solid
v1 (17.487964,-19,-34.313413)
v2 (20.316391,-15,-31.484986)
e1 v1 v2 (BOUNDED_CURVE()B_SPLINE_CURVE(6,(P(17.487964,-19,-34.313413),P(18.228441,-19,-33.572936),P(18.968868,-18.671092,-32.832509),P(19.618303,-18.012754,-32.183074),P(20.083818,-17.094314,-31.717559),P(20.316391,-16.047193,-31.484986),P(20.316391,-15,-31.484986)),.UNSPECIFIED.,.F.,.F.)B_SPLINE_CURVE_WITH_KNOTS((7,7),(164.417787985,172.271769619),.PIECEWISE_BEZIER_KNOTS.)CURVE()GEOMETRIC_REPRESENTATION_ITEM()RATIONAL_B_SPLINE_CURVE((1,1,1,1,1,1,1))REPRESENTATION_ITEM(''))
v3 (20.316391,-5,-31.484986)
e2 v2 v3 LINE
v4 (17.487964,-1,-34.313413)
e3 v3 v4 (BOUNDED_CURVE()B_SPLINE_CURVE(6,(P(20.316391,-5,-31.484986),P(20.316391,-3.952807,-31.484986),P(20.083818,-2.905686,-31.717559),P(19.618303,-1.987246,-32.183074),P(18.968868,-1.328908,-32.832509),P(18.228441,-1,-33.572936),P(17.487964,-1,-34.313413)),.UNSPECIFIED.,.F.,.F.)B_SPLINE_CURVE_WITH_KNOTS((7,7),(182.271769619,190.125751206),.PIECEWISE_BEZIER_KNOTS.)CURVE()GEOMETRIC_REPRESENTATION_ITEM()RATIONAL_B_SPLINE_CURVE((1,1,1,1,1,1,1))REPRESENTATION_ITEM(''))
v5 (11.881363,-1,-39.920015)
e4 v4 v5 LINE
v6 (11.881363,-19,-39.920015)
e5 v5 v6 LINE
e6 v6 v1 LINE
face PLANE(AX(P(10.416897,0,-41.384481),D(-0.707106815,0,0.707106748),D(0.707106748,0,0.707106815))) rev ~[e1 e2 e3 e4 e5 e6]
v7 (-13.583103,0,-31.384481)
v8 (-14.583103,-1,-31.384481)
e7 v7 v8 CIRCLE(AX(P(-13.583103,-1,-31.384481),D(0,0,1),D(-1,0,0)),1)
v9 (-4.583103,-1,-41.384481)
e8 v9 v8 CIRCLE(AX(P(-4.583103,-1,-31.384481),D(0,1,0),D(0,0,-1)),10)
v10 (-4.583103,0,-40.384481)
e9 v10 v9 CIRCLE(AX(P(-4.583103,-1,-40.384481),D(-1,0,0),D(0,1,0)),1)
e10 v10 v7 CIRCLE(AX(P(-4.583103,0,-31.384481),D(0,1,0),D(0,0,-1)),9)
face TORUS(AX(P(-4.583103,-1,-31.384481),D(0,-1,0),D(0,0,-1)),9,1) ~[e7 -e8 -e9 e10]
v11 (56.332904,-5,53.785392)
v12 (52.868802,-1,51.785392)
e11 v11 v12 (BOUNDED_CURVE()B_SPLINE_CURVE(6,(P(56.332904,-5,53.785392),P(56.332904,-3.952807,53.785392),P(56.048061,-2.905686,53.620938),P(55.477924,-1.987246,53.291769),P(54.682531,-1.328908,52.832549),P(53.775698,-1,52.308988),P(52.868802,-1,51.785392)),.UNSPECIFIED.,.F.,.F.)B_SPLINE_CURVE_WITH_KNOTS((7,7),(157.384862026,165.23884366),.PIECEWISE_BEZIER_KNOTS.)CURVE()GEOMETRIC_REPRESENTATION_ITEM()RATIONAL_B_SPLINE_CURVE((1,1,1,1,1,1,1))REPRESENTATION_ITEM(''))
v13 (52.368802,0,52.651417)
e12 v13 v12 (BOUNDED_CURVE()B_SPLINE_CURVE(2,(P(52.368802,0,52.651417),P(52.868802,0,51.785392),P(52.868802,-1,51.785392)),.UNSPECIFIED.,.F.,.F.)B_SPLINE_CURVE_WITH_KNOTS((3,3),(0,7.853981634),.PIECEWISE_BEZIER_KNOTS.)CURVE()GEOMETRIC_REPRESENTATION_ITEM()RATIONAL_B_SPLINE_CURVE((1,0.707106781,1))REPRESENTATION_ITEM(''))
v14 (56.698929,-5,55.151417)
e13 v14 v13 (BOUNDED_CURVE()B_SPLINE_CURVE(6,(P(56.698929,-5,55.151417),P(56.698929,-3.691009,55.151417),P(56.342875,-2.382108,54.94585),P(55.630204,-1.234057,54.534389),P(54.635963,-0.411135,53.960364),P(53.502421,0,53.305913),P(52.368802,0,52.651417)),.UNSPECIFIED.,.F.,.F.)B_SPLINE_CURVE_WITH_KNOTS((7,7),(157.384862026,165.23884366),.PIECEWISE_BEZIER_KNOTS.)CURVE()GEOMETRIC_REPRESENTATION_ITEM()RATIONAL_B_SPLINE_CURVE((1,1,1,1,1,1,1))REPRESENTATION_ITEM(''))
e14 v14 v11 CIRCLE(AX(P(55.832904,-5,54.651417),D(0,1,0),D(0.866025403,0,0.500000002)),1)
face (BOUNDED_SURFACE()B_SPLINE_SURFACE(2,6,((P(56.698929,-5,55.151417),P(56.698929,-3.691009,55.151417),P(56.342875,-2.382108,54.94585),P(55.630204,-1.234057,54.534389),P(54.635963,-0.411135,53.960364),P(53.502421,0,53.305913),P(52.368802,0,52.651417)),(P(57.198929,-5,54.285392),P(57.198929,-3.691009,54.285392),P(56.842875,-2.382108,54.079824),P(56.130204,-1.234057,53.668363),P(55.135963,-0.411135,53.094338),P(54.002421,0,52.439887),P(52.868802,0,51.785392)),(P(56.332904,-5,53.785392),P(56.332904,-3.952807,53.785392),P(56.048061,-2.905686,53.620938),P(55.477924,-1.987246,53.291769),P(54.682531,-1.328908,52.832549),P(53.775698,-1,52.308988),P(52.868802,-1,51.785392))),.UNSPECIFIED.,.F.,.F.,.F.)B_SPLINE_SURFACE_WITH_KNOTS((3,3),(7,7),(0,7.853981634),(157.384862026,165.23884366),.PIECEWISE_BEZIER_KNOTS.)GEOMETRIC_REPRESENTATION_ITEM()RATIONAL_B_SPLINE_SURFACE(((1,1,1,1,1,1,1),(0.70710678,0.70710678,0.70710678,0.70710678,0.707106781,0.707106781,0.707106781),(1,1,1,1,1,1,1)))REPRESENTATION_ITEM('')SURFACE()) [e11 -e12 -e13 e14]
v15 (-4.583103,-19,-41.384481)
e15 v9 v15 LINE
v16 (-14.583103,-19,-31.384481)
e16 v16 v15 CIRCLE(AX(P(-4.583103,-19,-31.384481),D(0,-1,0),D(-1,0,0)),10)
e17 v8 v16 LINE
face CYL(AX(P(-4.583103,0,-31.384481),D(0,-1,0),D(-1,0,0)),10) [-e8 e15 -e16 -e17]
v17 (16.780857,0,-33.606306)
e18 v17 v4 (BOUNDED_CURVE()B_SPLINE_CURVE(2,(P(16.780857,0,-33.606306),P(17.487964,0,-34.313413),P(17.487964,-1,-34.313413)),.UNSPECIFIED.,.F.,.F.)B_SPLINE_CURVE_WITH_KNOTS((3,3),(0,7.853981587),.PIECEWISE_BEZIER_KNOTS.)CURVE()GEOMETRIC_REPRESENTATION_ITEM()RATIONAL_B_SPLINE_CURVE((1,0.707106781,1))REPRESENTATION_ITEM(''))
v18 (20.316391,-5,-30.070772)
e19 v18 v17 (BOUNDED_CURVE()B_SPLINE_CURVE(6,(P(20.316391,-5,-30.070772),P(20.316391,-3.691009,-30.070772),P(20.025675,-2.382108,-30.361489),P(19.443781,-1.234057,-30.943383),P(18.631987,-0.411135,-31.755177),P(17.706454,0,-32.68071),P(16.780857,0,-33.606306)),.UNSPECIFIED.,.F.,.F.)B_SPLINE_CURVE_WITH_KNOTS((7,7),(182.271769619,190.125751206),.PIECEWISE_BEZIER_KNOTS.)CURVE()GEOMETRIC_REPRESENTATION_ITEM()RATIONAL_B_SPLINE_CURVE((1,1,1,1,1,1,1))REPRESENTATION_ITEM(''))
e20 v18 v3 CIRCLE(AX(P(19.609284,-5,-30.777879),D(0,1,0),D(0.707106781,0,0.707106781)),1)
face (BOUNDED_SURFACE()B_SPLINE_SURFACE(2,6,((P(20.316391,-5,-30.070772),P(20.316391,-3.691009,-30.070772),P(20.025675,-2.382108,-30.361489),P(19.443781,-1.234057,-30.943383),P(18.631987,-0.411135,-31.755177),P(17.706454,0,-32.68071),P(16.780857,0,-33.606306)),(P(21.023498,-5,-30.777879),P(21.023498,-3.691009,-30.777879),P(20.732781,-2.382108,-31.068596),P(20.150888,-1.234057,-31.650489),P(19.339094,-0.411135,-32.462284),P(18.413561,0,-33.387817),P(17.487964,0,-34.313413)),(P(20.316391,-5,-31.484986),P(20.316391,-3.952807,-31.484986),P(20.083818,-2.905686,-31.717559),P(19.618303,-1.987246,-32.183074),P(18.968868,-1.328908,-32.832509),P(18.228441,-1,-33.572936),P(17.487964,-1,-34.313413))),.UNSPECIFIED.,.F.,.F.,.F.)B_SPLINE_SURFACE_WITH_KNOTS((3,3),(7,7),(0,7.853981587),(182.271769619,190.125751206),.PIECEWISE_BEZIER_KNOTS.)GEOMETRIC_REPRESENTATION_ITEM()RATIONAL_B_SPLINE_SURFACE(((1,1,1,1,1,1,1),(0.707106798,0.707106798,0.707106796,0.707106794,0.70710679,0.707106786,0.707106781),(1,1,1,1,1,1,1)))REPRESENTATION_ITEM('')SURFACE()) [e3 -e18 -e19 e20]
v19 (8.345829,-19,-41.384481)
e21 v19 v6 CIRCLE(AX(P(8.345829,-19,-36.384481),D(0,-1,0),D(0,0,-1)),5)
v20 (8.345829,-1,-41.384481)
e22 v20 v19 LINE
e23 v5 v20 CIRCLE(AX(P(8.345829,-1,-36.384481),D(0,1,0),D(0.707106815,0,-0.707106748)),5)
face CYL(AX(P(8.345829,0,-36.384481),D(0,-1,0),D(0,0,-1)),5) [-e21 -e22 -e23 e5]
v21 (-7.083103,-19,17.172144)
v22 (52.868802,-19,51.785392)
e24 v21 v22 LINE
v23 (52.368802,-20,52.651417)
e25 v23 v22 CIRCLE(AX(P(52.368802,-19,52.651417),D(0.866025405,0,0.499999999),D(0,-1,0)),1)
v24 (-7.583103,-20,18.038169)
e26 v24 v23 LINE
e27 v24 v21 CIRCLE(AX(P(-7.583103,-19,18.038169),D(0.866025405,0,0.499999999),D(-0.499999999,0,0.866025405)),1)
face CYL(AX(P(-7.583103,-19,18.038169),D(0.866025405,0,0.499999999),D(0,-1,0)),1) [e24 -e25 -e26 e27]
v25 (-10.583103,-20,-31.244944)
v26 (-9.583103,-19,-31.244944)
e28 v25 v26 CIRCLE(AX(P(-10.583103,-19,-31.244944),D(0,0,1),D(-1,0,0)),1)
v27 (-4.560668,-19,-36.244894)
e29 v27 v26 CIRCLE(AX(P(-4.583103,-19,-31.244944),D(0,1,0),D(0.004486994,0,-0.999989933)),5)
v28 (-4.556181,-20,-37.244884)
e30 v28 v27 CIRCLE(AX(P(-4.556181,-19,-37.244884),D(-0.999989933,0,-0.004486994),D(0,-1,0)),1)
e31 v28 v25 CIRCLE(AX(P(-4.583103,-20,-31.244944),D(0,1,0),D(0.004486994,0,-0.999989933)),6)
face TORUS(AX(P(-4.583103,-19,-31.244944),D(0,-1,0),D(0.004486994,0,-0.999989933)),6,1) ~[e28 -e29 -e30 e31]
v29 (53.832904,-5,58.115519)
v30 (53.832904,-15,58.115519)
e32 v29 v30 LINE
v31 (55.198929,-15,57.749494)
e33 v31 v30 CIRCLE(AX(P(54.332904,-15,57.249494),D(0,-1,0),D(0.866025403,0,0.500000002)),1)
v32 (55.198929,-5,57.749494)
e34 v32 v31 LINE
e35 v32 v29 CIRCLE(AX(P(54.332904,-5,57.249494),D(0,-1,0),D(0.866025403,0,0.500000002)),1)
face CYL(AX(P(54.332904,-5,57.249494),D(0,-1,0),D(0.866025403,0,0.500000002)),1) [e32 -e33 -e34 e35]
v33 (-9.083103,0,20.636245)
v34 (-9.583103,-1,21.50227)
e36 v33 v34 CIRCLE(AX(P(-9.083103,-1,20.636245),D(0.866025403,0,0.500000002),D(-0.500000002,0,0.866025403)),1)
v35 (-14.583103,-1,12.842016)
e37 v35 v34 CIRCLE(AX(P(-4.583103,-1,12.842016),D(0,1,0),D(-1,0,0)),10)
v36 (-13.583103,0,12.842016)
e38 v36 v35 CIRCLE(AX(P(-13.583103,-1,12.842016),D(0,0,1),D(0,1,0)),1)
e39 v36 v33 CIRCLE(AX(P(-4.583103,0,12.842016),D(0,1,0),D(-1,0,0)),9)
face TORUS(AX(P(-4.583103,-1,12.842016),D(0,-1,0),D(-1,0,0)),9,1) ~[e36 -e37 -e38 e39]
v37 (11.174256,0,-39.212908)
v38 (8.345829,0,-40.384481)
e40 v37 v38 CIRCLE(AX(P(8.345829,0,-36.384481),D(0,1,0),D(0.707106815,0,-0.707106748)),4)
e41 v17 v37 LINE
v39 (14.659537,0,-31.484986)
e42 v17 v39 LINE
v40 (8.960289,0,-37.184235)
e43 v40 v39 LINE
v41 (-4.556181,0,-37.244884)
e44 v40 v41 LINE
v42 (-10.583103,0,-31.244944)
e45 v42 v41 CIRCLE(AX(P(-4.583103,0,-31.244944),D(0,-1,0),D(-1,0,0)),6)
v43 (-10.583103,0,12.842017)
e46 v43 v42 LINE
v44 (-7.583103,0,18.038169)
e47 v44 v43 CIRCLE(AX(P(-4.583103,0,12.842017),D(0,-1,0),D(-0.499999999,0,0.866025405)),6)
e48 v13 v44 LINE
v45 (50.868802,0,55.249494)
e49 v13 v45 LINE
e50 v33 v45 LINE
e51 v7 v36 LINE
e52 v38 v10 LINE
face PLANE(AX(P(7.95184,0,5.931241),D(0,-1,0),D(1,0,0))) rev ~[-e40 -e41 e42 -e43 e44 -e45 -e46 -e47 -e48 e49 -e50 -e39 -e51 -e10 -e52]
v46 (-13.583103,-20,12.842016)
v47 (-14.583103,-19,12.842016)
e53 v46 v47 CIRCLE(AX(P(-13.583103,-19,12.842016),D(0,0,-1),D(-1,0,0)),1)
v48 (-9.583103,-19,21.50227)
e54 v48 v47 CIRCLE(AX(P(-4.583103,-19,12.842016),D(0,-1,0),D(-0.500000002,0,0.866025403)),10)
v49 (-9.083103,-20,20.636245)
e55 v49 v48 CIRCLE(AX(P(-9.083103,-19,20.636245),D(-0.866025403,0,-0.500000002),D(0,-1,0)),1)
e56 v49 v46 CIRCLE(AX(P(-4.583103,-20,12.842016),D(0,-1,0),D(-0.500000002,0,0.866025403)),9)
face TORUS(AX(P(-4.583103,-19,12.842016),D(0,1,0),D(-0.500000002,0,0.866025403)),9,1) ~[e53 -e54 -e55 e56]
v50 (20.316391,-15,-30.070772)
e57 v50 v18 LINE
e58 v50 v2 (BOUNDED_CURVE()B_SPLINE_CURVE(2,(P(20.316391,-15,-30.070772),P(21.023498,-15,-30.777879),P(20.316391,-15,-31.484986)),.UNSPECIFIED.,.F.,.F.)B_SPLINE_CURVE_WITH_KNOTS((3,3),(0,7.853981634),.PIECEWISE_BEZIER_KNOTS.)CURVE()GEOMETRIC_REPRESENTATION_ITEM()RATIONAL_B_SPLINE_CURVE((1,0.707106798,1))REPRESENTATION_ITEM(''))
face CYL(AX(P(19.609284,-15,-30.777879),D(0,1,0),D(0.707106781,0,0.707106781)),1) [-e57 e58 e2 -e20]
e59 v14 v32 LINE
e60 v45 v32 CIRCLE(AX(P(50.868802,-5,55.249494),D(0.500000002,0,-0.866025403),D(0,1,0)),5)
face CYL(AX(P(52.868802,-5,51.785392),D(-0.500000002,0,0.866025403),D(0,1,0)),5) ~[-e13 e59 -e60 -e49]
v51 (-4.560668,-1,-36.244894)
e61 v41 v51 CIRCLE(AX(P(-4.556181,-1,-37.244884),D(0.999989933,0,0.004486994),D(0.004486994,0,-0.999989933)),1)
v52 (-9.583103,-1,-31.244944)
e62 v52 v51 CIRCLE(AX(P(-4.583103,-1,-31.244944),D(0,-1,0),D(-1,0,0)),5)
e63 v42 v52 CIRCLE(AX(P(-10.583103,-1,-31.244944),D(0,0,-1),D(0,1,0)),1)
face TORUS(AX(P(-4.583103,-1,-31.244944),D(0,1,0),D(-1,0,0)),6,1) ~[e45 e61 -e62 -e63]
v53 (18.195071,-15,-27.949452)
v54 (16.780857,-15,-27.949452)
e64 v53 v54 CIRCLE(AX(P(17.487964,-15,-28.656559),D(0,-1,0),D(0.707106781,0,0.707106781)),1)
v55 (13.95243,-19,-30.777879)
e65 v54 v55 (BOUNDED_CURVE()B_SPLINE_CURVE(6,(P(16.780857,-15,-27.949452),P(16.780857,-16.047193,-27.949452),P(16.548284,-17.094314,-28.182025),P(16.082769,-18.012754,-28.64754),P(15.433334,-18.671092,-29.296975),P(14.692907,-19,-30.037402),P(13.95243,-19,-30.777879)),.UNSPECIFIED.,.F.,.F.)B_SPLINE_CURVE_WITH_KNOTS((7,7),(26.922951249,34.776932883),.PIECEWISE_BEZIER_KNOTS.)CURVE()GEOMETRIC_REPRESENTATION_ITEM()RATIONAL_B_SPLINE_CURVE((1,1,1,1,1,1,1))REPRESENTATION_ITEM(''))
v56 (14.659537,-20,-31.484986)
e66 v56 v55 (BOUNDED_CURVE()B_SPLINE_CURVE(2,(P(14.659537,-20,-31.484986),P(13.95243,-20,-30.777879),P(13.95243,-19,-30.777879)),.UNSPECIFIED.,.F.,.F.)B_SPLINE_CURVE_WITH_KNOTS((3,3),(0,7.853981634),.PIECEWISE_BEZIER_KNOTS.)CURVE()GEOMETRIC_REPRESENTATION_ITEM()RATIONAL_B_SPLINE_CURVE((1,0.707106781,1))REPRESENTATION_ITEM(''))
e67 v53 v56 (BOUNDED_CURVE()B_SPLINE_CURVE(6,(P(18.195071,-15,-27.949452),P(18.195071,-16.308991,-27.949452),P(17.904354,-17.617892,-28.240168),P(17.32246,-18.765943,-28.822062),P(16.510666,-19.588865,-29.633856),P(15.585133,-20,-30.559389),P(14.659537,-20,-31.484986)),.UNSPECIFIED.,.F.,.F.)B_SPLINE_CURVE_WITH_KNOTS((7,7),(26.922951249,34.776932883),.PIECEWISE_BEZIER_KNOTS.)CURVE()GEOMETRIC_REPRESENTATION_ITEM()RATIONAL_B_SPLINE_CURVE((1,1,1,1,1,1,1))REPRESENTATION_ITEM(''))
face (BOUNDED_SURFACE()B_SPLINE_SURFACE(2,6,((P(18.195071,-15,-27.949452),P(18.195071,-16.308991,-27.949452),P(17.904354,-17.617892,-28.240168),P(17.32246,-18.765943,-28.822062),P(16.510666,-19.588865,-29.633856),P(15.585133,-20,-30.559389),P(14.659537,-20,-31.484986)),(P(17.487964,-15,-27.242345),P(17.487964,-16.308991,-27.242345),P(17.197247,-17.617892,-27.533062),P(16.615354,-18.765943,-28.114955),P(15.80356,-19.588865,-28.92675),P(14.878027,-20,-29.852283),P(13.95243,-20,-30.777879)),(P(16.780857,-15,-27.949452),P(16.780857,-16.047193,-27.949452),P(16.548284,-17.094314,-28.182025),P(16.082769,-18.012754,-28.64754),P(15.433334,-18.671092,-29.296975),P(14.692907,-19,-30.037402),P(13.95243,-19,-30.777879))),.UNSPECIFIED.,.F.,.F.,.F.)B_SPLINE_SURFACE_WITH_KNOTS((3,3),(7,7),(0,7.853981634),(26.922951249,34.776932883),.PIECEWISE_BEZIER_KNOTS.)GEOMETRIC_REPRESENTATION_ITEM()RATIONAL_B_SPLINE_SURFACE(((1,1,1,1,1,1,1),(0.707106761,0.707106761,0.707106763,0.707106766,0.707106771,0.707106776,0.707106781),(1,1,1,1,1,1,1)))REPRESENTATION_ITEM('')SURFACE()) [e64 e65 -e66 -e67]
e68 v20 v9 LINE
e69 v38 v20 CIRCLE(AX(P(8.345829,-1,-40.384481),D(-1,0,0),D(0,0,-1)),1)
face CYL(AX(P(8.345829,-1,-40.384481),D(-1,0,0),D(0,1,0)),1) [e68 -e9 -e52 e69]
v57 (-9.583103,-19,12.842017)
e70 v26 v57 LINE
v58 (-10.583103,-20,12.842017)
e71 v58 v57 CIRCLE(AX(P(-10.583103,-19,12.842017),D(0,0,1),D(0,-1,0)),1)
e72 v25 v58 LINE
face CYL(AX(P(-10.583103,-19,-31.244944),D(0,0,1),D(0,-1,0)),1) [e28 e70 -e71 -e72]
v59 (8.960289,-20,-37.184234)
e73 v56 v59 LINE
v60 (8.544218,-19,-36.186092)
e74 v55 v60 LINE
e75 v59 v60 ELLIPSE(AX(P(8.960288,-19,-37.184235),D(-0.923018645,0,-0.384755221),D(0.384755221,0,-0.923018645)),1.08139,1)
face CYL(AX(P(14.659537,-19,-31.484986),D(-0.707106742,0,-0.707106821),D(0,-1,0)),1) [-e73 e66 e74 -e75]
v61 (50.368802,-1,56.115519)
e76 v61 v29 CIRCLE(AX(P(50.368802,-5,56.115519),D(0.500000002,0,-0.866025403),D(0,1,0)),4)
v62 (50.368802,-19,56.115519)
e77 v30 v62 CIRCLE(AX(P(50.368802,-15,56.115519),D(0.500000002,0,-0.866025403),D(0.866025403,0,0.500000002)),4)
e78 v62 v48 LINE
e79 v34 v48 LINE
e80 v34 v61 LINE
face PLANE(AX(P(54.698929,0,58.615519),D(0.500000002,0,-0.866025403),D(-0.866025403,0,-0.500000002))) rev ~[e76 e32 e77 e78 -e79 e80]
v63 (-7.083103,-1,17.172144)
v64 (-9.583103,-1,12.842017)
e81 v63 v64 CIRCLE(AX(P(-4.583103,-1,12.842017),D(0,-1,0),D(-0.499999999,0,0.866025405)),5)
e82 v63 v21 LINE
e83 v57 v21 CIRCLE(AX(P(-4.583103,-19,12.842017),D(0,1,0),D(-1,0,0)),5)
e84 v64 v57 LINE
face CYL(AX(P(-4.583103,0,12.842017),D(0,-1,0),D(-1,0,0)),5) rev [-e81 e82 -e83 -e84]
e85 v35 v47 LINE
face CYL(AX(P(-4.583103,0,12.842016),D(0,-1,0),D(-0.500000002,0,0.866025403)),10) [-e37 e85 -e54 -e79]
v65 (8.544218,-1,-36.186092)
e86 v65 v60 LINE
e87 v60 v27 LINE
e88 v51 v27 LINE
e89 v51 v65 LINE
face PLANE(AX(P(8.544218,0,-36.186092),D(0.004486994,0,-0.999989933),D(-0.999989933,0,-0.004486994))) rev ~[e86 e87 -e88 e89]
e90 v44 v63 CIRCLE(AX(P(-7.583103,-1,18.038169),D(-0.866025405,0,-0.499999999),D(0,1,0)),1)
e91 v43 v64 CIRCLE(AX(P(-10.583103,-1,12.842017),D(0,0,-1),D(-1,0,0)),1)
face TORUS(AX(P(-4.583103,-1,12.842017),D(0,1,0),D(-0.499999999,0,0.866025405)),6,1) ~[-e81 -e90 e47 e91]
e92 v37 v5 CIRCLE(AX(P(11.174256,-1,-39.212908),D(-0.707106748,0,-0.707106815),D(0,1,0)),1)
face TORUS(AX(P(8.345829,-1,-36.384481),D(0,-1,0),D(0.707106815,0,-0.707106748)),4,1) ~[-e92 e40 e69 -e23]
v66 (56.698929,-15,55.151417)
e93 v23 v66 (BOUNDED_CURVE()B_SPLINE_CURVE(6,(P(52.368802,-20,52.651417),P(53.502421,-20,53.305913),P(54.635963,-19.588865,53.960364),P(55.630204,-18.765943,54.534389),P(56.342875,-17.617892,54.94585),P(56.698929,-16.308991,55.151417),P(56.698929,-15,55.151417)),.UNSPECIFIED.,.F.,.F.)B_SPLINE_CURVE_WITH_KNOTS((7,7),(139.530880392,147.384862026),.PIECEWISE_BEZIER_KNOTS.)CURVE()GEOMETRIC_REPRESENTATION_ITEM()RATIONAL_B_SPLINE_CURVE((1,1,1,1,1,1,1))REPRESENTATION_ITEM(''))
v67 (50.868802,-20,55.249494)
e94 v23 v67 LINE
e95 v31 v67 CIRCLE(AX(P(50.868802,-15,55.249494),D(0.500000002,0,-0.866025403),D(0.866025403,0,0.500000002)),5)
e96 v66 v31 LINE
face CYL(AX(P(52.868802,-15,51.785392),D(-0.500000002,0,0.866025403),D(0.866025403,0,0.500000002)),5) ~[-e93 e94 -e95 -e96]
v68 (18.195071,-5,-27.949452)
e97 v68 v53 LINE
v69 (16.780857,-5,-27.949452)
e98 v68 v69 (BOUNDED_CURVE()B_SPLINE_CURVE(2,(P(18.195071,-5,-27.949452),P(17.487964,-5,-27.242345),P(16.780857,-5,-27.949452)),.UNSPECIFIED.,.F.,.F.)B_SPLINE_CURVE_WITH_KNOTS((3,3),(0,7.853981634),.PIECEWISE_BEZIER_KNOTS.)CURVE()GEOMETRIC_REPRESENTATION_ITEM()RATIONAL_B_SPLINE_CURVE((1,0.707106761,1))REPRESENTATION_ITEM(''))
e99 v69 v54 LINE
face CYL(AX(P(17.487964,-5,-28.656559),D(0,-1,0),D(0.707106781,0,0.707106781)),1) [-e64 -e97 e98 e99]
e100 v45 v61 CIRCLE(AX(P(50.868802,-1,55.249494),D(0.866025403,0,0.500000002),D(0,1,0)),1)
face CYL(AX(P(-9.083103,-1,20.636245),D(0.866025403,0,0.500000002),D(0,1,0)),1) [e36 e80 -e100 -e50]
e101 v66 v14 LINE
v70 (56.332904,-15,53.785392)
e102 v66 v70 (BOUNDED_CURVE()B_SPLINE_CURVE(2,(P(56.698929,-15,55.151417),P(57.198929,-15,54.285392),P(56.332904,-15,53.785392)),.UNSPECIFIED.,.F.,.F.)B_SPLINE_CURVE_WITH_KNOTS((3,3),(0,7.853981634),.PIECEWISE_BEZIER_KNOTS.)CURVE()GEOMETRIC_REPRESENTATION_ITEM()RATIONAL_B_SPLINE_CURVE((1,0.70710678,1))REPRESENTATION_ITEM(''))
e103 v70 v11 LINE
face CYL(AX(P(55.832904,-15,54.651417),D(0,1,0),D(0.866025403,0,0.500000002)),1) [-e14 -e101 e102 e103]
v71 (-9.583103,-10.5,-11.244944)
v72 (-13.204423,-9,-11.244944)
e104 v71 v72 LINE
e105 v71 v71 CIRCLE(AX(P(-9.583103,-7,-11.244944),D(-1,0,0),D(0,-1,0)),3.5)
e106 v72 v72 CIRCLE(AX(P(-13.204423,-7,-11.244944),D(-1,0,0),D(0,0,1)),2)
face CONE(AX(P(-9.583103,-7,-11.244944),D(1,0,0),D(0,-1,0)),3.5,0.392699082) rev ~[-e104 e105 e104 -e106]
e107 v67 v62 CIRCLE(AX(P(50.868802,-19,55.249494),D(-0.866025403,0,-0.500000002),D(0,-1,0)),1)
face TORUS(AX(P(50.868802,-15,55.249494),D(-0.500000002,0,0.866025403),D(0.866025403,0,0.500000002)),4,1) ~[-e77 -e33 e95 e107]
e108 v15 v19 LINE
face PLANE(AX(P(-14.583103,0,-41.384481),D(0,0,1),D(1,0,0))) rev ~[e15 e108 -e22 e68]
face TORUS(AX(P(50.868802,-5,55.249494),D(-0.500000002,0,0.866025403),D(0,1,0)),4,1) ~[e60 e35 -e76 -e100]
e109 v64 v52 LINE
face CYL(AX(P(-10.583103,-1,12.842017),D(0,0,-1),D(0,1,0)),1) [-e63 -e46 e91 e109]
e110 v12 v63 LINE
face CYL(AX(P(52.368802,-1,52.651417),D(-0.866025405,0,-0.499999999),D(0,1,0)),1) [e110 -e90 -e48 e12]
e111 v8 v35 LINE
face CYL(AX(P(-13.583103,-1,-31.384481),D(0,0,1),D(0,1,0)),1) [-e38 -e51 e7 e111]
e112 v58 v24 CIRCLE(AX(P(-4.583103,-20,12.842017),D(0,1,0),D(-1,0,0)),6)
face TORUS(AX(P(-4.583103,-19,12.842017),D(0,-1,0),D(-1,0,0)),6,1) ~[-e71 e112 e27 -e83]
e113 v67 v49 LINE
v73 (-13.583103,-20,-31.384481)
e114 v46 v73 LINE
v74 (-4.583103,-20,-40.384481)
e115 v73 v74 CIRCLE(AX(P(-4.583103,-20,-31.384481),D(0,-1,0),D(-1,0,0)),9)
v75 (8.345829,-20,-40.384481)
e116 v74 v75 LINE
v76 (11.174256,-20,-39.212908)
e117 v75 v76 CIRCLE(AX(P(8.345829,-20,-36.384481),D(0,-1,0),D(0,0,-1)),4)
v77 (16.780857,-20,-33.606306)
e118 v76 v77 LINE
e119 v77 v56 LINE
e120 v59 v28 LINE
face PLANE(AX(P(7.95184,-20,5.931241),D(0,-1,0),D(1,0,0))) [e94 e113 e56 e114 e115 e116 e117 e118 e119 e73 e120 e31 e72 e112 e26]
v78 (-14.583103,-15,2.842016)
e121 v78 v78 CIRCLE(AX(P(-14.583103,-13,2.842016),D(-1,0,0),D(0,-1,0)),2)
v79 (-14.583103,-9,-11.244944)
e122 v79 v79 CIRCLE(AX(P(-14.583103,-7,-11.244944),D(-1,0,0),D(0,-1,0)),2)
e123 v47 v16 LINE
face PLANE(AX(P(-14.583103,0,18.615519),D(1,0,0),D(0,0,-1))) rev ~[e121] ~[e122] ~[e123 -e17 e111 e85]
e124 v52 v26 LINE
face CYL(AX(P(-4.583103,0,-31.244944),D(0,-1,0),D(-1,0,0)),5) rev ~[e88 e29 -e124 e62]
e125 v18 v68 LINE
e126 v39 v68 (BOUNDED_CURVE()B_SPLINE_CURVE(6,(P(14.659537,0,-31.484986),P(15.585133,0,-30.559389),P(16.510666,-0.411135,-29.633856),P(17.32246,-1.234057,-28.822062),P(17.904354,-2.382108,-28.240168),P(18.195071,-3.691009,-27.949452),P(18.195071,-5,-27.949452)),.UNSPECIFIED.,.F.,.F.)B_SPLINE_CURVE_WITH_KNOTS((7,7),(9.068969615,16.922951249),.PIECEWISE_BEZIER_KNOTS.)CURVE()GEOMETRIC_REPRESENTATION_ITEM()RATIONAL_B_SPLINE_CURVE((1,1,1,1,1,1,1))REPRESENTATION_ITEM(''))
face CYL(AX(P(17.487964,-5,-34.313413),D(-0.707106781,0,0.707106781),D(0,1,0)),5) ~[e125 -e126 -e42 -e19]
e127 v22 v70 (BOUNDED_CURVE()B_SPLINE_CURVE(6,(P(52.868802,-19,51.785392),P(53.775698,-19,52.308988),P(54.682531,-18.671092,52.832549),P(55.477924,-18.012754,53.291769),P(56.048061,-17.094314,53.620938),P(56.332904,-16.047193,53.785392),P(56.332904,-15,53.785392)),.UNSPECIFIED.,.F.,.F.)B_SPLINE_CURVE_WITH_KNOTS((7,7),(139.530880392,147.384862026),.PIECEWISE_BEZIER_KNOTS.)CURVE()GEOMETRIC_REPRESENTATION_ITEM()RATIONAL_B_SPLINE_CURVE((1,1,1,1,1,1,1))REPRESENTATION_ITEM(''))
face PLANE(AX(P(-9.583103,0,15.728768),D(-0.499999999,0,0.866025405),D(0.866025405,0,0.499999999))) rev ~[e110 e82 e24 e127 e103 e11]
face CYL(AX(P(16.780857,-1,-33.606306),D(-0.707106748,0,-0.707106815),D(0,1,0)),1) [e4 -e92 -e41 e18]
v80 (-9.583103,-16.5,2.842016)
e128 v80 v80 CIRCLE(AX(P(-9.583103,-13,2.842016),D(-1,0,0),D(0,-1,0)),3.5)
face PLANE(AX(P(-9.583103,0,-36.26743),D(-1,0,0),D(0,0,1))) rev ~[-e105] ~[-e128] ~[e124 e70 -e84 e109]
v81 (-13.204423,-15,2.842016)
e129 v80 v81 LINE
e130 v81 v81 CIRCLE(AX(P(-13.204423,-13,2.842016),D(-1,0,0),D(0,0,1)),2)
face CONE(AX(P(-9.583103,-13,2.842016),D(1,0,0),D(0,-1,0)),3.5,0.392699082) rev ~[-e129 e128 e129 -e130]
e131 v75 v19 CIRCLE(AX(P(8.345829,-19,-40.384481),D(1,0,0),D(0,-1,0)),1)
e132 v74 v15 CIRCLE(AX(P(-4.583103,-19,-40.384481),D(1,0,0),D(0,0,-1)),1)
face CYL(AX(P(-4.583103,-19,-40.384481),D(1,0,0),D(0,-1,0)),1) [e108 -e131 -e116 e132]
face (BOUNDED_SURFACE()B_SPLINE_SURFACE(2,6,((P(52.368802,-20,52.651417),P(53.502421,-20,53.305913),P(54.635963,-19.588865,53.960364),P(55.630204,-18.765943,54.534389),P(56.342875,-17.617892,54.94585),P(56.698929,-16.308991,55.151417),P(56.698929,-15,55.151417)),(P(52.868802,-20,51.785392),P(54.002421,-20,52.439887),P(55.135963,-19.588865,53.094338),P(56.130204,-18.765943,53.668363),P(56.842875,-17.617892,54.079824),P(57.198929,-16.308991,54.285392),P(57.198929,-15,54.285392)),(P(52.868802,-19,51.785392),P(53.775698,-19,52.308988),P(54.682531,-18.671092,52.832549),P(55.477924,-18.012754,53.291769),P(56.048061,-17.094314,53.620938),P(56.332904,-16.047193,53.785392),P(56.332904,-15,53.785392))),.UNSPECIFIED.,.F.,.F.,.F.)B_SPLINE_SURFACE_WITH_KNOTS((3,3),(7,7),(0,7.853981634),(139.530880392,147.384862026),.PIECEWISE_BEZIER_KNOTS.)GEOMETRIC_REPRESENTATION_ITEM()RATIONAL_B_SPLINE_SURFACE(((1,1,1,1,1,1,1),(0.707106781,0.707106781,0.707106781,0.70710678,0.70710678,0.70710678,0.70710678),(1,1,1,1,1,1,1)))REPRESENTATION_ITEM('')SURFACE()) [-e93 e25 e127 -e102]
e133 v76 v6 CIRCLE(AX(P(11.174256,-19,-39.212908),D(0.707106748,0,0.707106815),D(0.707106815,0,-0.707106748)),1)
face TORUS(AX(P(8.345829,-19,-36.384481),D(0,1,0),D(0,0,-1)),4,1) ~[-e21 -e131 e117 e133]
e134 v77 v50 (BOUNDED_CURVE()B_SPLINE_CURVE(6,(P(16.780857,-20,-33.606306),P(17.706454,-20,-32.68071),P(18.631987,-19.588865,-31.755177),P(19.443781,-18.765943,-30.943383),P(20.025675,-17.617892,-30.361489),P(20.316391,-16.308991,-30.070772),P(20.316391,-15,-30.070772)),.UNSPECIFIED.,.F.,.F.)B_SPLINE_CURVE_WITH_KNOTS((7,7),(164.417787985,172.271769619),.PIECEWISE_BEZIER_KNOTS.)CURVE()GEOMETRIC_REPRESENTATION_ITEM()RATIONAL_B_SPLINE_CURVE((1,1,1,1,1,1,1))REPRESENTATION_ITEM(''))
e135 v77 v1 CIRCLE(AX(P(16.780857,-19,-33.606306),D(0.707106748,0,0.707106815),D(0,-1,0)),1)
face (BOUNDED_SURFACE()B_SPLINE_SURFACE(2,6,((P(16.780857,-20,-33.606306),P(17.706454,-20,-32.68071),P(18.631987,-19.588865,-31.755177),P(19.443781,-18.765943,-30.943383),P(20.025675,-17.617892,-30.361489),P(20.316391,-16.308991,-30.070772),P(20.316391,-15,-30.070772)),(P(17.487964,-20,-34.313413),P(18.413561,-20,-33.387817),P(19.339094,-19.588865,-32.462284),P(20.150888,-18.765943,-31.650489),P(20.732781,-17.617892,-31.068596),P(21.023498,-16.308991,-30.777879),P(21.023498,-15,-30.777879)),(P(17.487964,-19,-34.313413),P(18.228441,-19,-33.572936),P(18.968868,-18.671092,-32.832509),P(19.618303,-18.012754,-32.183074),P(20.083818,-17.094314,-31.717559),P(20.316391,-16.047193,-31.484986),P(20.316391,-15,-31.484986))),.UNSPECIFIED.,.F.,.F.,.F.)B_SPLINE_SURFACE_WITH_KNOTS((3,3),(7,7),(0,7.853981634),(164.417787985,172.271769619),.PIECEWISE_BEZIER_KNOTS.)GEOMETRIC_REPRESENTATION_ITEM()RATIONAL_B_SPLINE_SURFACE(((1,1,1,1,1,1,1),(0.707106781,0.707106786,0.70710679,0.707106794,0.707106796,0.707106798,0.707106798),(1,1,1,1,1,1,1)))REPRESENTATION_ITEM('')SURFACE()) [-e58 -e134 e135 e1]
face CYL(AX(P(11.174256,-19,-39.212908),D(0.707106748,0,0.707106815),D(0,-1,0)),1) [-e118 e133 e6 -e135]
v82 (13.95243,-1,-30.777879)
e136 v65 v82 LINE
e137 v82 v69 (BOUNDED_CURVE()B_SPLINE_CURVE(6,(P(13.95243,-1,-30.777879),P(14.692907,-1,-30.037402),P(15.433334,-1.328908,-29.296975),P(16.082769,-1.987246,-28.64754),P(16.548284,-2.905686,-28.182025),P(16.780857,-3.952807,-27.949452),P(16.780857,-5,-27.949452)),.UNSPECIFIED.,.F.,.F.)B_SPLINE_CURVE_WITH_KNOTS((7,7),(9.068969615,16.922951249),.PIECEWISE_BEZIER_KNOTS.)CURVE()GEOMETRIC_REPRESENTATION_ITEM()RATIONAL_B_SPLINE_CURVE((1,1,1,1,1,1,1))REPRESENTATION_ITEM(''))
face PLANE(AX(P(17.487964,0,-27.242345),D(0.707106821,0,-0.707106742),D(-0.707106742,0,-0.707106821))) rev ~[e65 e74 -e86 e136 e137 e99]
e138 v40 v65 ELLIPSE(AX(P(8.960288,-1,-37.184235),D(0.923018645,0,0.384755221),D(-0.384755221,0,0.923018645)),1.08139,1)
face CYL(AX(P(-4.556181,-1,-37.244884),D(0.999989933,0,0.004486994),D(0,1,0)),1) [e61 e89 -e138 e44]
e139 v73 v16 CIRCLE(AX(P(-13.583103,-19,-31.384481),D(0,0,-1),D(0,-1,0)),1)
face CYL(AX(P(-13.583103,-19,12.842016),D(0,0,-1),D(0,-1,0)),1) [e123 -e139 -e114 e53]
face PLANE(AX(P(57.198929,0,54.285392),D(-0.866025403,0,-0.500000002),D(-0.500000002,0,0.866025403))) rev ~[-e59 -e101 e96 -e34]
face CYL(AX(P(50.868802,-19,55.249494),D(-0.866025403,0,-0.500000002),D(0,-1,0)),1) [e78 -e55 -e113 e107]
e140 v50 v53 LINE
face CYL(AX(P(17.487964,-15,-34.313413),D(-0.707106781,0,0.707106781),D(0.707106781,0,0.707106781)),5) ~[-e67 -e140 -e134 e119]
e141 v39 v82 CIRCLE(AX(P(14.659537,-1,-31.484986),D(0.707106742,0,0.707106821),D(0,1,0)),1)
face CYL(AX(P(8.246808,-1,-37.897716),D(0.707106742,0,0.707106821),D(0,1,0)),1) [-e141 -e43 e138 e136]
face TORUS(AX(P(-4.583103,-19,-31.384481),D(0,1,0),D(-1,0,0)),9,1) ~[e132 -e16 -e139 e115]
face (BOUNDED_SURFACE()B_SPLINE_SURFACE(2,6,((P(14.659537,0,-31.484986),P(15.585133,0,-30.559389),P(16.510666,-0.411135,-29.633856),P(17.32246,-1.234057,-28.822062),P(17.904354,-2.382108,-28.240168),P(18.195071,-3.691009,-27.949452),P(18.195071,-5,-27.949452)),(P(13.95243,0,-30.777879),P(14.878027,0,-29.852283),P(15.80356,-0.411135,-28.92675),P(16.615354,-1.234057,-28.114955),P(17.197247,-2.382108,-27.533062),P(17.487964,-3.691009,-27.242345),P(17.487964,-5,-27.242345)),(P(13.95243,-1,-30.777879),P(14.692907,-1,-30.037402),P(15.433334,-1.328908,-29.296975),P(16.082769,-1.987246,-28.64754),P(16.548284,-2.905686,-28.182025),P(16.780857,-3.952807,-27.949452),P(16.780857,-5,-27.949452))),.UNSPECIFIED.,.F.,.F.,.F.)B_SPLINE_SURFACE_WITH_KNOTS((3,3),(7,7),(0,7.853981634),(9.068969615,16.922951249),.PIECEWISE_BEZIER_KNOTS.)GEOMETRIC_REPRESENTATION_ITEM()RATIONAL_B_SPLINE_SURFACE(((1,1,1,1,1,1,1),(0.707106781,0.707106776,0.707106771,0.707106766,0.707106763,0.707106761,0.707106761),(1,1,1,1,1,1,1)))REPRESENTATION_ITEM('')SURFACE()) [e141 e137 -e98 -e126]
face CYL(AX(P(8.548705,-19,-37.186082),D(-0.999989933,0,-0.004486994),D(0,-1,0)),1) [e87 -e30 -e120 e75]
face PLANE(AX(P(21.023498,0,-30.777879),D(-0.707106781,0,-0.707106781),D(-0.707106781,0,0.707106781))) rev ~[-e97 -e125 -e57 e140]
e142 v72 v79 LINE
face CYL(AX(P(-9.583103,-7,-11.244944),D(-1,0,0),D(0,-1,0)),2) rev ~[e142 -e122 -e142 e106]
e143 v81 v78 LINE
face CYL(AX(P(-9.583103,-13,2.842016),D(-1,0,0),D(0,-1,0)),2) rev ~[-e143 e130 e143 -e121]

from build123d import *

# Parameters (mm, degrees)
F1_DEPTH        = 20
F2_R            = 10
F3_R            = 5
F4_R            = 5
F5_R            = 10
F6_R            = 5
F7_R            = 5
F8_R            = 5
F9_R            = 5
F10_R           = 5
F11_R           = 1
F12_R           = 1
F13_R           = 1
F15_D           = 4
F15_CSINK_D     = 7
F15_CSINK_ANGLE = 45
F16_D           = 4
F16_CSINK_D     = 7
F16_CSINK_ANGLE = 45


with BuildPart() as f1:
    # F0 (on Front) → F1 (new body)
    with BuildSketch(Plane.XZ):
        Polygon((-14.583103, 18.615519), (-14.583103, -41.384481), (10.416897, -41.384481), (21.023498, -30.777879), (17.487964, -27.242345), (8.544218, -36.186092), (-9.583103, -36.26743), (-9.583103, 15.728768), (57.198929, 54.285392), (54.698929, 58.615519), align=None)
    extrude(amount=F1_DEPTH)

    # F2
    f2_edges = [f1.edges().sort_by_distance(p)[0] for p in [
        (-14.583103, -10, -41.384481),
    ]]
    fillet(f2_edges, radius=F2_R)

    # F3
    f3_edges = [f1.edges().sort_by_distance(p)[0] for p in [
        (-9.583103, -10, -36.26743),
    ]]
    fillet(f3_edges, radius=F3_R)

    # F4
    f4_edges = [f1.edges().sort_by_distance(p)[0] for p in [
        (-9.583103, -10, 15.728768),
    ]]
    fillet(f4_edges, radius=F4_R)

    # F5
    f5_edges = [f1.edges().sort_by_distance(p)[0] for p in [
        (-14.583103, -10, 18.615519),
    ]]
    fillet(f5_edges, radius=F5_R)

    # F6
    f6_edges = [f1.edges().sort_by_distance(p)[0] for p in [
        (19.255731, 0, -29.010112),
    ]]
    fillet(f6_edges, radius=F6_R)

    # F7
    f7_edges = [f1.edges().sort_by_distance(p)[0] for p in [
        (19.255731, -20, -29.010112),
    ]]
    fillet(f7_edges, radius=F7_R)

    # F8
    f8_edges = [f1.edges().sort_by_distance(p)[0] for p in [
        (55.948929, 0, 56.450456),
    ]]
    fillet(f8_edges, radius=F8_R)

    # F9
    f9_edges = [f1.edges().sort_by_distance(p)[0] for p in [
        (55.948929, -20, 56.450456),
    ]]
    fillet(f9_edges, radius=F9_R)

    # F10
    f10_edges = [f1.edges().sort_by_distance(p)[0] for p in [
        (10.416897, -10, -41.384481),
    ]]
    fillet(f10_edges, radius=F10_R)

    # F11
    f11_edges = [f1.edges().sort_by_distance(p)[0] for p in [
        (22.892849, -20, 34.478768),
    ]]
    fillet(f11_edges, radius=F11_R)

    # F12
    f12_edges = [f1.edges().sort_by_distance(p)[0] for p in [
        (20.392849, -20, 38.808895),
    ]]
    fillet(f12_edges, radius=F12_R)

    # F13
    f13_edges = [f1.edges().sort_by_distance(p)[0] for p in [
        (11.248324, -20, -33.481985),
    ]]
    fillet(f13_edges, radius=F13_R)

    # F15 (through all)
    with Locations(Plane.YZ.offset(-9.583103)):
        with Locations((-7, -11.244944)):
            CounterSinkHole(F15_D / 2, F15_CSINK_D / 2, counter_sink_angle=F15_CSINK_ANGLE)

    # F16 (through all)
    with Locations(Plane.YZ.offset(-9.583103)):
        with Locations((-13, 2.842016)):
            CounterSinkHole(F16_D / 2, F16_CSINK_D / 2, counter_sink_angle=F16_CSINK_ANGLE)


solid = f1.part
